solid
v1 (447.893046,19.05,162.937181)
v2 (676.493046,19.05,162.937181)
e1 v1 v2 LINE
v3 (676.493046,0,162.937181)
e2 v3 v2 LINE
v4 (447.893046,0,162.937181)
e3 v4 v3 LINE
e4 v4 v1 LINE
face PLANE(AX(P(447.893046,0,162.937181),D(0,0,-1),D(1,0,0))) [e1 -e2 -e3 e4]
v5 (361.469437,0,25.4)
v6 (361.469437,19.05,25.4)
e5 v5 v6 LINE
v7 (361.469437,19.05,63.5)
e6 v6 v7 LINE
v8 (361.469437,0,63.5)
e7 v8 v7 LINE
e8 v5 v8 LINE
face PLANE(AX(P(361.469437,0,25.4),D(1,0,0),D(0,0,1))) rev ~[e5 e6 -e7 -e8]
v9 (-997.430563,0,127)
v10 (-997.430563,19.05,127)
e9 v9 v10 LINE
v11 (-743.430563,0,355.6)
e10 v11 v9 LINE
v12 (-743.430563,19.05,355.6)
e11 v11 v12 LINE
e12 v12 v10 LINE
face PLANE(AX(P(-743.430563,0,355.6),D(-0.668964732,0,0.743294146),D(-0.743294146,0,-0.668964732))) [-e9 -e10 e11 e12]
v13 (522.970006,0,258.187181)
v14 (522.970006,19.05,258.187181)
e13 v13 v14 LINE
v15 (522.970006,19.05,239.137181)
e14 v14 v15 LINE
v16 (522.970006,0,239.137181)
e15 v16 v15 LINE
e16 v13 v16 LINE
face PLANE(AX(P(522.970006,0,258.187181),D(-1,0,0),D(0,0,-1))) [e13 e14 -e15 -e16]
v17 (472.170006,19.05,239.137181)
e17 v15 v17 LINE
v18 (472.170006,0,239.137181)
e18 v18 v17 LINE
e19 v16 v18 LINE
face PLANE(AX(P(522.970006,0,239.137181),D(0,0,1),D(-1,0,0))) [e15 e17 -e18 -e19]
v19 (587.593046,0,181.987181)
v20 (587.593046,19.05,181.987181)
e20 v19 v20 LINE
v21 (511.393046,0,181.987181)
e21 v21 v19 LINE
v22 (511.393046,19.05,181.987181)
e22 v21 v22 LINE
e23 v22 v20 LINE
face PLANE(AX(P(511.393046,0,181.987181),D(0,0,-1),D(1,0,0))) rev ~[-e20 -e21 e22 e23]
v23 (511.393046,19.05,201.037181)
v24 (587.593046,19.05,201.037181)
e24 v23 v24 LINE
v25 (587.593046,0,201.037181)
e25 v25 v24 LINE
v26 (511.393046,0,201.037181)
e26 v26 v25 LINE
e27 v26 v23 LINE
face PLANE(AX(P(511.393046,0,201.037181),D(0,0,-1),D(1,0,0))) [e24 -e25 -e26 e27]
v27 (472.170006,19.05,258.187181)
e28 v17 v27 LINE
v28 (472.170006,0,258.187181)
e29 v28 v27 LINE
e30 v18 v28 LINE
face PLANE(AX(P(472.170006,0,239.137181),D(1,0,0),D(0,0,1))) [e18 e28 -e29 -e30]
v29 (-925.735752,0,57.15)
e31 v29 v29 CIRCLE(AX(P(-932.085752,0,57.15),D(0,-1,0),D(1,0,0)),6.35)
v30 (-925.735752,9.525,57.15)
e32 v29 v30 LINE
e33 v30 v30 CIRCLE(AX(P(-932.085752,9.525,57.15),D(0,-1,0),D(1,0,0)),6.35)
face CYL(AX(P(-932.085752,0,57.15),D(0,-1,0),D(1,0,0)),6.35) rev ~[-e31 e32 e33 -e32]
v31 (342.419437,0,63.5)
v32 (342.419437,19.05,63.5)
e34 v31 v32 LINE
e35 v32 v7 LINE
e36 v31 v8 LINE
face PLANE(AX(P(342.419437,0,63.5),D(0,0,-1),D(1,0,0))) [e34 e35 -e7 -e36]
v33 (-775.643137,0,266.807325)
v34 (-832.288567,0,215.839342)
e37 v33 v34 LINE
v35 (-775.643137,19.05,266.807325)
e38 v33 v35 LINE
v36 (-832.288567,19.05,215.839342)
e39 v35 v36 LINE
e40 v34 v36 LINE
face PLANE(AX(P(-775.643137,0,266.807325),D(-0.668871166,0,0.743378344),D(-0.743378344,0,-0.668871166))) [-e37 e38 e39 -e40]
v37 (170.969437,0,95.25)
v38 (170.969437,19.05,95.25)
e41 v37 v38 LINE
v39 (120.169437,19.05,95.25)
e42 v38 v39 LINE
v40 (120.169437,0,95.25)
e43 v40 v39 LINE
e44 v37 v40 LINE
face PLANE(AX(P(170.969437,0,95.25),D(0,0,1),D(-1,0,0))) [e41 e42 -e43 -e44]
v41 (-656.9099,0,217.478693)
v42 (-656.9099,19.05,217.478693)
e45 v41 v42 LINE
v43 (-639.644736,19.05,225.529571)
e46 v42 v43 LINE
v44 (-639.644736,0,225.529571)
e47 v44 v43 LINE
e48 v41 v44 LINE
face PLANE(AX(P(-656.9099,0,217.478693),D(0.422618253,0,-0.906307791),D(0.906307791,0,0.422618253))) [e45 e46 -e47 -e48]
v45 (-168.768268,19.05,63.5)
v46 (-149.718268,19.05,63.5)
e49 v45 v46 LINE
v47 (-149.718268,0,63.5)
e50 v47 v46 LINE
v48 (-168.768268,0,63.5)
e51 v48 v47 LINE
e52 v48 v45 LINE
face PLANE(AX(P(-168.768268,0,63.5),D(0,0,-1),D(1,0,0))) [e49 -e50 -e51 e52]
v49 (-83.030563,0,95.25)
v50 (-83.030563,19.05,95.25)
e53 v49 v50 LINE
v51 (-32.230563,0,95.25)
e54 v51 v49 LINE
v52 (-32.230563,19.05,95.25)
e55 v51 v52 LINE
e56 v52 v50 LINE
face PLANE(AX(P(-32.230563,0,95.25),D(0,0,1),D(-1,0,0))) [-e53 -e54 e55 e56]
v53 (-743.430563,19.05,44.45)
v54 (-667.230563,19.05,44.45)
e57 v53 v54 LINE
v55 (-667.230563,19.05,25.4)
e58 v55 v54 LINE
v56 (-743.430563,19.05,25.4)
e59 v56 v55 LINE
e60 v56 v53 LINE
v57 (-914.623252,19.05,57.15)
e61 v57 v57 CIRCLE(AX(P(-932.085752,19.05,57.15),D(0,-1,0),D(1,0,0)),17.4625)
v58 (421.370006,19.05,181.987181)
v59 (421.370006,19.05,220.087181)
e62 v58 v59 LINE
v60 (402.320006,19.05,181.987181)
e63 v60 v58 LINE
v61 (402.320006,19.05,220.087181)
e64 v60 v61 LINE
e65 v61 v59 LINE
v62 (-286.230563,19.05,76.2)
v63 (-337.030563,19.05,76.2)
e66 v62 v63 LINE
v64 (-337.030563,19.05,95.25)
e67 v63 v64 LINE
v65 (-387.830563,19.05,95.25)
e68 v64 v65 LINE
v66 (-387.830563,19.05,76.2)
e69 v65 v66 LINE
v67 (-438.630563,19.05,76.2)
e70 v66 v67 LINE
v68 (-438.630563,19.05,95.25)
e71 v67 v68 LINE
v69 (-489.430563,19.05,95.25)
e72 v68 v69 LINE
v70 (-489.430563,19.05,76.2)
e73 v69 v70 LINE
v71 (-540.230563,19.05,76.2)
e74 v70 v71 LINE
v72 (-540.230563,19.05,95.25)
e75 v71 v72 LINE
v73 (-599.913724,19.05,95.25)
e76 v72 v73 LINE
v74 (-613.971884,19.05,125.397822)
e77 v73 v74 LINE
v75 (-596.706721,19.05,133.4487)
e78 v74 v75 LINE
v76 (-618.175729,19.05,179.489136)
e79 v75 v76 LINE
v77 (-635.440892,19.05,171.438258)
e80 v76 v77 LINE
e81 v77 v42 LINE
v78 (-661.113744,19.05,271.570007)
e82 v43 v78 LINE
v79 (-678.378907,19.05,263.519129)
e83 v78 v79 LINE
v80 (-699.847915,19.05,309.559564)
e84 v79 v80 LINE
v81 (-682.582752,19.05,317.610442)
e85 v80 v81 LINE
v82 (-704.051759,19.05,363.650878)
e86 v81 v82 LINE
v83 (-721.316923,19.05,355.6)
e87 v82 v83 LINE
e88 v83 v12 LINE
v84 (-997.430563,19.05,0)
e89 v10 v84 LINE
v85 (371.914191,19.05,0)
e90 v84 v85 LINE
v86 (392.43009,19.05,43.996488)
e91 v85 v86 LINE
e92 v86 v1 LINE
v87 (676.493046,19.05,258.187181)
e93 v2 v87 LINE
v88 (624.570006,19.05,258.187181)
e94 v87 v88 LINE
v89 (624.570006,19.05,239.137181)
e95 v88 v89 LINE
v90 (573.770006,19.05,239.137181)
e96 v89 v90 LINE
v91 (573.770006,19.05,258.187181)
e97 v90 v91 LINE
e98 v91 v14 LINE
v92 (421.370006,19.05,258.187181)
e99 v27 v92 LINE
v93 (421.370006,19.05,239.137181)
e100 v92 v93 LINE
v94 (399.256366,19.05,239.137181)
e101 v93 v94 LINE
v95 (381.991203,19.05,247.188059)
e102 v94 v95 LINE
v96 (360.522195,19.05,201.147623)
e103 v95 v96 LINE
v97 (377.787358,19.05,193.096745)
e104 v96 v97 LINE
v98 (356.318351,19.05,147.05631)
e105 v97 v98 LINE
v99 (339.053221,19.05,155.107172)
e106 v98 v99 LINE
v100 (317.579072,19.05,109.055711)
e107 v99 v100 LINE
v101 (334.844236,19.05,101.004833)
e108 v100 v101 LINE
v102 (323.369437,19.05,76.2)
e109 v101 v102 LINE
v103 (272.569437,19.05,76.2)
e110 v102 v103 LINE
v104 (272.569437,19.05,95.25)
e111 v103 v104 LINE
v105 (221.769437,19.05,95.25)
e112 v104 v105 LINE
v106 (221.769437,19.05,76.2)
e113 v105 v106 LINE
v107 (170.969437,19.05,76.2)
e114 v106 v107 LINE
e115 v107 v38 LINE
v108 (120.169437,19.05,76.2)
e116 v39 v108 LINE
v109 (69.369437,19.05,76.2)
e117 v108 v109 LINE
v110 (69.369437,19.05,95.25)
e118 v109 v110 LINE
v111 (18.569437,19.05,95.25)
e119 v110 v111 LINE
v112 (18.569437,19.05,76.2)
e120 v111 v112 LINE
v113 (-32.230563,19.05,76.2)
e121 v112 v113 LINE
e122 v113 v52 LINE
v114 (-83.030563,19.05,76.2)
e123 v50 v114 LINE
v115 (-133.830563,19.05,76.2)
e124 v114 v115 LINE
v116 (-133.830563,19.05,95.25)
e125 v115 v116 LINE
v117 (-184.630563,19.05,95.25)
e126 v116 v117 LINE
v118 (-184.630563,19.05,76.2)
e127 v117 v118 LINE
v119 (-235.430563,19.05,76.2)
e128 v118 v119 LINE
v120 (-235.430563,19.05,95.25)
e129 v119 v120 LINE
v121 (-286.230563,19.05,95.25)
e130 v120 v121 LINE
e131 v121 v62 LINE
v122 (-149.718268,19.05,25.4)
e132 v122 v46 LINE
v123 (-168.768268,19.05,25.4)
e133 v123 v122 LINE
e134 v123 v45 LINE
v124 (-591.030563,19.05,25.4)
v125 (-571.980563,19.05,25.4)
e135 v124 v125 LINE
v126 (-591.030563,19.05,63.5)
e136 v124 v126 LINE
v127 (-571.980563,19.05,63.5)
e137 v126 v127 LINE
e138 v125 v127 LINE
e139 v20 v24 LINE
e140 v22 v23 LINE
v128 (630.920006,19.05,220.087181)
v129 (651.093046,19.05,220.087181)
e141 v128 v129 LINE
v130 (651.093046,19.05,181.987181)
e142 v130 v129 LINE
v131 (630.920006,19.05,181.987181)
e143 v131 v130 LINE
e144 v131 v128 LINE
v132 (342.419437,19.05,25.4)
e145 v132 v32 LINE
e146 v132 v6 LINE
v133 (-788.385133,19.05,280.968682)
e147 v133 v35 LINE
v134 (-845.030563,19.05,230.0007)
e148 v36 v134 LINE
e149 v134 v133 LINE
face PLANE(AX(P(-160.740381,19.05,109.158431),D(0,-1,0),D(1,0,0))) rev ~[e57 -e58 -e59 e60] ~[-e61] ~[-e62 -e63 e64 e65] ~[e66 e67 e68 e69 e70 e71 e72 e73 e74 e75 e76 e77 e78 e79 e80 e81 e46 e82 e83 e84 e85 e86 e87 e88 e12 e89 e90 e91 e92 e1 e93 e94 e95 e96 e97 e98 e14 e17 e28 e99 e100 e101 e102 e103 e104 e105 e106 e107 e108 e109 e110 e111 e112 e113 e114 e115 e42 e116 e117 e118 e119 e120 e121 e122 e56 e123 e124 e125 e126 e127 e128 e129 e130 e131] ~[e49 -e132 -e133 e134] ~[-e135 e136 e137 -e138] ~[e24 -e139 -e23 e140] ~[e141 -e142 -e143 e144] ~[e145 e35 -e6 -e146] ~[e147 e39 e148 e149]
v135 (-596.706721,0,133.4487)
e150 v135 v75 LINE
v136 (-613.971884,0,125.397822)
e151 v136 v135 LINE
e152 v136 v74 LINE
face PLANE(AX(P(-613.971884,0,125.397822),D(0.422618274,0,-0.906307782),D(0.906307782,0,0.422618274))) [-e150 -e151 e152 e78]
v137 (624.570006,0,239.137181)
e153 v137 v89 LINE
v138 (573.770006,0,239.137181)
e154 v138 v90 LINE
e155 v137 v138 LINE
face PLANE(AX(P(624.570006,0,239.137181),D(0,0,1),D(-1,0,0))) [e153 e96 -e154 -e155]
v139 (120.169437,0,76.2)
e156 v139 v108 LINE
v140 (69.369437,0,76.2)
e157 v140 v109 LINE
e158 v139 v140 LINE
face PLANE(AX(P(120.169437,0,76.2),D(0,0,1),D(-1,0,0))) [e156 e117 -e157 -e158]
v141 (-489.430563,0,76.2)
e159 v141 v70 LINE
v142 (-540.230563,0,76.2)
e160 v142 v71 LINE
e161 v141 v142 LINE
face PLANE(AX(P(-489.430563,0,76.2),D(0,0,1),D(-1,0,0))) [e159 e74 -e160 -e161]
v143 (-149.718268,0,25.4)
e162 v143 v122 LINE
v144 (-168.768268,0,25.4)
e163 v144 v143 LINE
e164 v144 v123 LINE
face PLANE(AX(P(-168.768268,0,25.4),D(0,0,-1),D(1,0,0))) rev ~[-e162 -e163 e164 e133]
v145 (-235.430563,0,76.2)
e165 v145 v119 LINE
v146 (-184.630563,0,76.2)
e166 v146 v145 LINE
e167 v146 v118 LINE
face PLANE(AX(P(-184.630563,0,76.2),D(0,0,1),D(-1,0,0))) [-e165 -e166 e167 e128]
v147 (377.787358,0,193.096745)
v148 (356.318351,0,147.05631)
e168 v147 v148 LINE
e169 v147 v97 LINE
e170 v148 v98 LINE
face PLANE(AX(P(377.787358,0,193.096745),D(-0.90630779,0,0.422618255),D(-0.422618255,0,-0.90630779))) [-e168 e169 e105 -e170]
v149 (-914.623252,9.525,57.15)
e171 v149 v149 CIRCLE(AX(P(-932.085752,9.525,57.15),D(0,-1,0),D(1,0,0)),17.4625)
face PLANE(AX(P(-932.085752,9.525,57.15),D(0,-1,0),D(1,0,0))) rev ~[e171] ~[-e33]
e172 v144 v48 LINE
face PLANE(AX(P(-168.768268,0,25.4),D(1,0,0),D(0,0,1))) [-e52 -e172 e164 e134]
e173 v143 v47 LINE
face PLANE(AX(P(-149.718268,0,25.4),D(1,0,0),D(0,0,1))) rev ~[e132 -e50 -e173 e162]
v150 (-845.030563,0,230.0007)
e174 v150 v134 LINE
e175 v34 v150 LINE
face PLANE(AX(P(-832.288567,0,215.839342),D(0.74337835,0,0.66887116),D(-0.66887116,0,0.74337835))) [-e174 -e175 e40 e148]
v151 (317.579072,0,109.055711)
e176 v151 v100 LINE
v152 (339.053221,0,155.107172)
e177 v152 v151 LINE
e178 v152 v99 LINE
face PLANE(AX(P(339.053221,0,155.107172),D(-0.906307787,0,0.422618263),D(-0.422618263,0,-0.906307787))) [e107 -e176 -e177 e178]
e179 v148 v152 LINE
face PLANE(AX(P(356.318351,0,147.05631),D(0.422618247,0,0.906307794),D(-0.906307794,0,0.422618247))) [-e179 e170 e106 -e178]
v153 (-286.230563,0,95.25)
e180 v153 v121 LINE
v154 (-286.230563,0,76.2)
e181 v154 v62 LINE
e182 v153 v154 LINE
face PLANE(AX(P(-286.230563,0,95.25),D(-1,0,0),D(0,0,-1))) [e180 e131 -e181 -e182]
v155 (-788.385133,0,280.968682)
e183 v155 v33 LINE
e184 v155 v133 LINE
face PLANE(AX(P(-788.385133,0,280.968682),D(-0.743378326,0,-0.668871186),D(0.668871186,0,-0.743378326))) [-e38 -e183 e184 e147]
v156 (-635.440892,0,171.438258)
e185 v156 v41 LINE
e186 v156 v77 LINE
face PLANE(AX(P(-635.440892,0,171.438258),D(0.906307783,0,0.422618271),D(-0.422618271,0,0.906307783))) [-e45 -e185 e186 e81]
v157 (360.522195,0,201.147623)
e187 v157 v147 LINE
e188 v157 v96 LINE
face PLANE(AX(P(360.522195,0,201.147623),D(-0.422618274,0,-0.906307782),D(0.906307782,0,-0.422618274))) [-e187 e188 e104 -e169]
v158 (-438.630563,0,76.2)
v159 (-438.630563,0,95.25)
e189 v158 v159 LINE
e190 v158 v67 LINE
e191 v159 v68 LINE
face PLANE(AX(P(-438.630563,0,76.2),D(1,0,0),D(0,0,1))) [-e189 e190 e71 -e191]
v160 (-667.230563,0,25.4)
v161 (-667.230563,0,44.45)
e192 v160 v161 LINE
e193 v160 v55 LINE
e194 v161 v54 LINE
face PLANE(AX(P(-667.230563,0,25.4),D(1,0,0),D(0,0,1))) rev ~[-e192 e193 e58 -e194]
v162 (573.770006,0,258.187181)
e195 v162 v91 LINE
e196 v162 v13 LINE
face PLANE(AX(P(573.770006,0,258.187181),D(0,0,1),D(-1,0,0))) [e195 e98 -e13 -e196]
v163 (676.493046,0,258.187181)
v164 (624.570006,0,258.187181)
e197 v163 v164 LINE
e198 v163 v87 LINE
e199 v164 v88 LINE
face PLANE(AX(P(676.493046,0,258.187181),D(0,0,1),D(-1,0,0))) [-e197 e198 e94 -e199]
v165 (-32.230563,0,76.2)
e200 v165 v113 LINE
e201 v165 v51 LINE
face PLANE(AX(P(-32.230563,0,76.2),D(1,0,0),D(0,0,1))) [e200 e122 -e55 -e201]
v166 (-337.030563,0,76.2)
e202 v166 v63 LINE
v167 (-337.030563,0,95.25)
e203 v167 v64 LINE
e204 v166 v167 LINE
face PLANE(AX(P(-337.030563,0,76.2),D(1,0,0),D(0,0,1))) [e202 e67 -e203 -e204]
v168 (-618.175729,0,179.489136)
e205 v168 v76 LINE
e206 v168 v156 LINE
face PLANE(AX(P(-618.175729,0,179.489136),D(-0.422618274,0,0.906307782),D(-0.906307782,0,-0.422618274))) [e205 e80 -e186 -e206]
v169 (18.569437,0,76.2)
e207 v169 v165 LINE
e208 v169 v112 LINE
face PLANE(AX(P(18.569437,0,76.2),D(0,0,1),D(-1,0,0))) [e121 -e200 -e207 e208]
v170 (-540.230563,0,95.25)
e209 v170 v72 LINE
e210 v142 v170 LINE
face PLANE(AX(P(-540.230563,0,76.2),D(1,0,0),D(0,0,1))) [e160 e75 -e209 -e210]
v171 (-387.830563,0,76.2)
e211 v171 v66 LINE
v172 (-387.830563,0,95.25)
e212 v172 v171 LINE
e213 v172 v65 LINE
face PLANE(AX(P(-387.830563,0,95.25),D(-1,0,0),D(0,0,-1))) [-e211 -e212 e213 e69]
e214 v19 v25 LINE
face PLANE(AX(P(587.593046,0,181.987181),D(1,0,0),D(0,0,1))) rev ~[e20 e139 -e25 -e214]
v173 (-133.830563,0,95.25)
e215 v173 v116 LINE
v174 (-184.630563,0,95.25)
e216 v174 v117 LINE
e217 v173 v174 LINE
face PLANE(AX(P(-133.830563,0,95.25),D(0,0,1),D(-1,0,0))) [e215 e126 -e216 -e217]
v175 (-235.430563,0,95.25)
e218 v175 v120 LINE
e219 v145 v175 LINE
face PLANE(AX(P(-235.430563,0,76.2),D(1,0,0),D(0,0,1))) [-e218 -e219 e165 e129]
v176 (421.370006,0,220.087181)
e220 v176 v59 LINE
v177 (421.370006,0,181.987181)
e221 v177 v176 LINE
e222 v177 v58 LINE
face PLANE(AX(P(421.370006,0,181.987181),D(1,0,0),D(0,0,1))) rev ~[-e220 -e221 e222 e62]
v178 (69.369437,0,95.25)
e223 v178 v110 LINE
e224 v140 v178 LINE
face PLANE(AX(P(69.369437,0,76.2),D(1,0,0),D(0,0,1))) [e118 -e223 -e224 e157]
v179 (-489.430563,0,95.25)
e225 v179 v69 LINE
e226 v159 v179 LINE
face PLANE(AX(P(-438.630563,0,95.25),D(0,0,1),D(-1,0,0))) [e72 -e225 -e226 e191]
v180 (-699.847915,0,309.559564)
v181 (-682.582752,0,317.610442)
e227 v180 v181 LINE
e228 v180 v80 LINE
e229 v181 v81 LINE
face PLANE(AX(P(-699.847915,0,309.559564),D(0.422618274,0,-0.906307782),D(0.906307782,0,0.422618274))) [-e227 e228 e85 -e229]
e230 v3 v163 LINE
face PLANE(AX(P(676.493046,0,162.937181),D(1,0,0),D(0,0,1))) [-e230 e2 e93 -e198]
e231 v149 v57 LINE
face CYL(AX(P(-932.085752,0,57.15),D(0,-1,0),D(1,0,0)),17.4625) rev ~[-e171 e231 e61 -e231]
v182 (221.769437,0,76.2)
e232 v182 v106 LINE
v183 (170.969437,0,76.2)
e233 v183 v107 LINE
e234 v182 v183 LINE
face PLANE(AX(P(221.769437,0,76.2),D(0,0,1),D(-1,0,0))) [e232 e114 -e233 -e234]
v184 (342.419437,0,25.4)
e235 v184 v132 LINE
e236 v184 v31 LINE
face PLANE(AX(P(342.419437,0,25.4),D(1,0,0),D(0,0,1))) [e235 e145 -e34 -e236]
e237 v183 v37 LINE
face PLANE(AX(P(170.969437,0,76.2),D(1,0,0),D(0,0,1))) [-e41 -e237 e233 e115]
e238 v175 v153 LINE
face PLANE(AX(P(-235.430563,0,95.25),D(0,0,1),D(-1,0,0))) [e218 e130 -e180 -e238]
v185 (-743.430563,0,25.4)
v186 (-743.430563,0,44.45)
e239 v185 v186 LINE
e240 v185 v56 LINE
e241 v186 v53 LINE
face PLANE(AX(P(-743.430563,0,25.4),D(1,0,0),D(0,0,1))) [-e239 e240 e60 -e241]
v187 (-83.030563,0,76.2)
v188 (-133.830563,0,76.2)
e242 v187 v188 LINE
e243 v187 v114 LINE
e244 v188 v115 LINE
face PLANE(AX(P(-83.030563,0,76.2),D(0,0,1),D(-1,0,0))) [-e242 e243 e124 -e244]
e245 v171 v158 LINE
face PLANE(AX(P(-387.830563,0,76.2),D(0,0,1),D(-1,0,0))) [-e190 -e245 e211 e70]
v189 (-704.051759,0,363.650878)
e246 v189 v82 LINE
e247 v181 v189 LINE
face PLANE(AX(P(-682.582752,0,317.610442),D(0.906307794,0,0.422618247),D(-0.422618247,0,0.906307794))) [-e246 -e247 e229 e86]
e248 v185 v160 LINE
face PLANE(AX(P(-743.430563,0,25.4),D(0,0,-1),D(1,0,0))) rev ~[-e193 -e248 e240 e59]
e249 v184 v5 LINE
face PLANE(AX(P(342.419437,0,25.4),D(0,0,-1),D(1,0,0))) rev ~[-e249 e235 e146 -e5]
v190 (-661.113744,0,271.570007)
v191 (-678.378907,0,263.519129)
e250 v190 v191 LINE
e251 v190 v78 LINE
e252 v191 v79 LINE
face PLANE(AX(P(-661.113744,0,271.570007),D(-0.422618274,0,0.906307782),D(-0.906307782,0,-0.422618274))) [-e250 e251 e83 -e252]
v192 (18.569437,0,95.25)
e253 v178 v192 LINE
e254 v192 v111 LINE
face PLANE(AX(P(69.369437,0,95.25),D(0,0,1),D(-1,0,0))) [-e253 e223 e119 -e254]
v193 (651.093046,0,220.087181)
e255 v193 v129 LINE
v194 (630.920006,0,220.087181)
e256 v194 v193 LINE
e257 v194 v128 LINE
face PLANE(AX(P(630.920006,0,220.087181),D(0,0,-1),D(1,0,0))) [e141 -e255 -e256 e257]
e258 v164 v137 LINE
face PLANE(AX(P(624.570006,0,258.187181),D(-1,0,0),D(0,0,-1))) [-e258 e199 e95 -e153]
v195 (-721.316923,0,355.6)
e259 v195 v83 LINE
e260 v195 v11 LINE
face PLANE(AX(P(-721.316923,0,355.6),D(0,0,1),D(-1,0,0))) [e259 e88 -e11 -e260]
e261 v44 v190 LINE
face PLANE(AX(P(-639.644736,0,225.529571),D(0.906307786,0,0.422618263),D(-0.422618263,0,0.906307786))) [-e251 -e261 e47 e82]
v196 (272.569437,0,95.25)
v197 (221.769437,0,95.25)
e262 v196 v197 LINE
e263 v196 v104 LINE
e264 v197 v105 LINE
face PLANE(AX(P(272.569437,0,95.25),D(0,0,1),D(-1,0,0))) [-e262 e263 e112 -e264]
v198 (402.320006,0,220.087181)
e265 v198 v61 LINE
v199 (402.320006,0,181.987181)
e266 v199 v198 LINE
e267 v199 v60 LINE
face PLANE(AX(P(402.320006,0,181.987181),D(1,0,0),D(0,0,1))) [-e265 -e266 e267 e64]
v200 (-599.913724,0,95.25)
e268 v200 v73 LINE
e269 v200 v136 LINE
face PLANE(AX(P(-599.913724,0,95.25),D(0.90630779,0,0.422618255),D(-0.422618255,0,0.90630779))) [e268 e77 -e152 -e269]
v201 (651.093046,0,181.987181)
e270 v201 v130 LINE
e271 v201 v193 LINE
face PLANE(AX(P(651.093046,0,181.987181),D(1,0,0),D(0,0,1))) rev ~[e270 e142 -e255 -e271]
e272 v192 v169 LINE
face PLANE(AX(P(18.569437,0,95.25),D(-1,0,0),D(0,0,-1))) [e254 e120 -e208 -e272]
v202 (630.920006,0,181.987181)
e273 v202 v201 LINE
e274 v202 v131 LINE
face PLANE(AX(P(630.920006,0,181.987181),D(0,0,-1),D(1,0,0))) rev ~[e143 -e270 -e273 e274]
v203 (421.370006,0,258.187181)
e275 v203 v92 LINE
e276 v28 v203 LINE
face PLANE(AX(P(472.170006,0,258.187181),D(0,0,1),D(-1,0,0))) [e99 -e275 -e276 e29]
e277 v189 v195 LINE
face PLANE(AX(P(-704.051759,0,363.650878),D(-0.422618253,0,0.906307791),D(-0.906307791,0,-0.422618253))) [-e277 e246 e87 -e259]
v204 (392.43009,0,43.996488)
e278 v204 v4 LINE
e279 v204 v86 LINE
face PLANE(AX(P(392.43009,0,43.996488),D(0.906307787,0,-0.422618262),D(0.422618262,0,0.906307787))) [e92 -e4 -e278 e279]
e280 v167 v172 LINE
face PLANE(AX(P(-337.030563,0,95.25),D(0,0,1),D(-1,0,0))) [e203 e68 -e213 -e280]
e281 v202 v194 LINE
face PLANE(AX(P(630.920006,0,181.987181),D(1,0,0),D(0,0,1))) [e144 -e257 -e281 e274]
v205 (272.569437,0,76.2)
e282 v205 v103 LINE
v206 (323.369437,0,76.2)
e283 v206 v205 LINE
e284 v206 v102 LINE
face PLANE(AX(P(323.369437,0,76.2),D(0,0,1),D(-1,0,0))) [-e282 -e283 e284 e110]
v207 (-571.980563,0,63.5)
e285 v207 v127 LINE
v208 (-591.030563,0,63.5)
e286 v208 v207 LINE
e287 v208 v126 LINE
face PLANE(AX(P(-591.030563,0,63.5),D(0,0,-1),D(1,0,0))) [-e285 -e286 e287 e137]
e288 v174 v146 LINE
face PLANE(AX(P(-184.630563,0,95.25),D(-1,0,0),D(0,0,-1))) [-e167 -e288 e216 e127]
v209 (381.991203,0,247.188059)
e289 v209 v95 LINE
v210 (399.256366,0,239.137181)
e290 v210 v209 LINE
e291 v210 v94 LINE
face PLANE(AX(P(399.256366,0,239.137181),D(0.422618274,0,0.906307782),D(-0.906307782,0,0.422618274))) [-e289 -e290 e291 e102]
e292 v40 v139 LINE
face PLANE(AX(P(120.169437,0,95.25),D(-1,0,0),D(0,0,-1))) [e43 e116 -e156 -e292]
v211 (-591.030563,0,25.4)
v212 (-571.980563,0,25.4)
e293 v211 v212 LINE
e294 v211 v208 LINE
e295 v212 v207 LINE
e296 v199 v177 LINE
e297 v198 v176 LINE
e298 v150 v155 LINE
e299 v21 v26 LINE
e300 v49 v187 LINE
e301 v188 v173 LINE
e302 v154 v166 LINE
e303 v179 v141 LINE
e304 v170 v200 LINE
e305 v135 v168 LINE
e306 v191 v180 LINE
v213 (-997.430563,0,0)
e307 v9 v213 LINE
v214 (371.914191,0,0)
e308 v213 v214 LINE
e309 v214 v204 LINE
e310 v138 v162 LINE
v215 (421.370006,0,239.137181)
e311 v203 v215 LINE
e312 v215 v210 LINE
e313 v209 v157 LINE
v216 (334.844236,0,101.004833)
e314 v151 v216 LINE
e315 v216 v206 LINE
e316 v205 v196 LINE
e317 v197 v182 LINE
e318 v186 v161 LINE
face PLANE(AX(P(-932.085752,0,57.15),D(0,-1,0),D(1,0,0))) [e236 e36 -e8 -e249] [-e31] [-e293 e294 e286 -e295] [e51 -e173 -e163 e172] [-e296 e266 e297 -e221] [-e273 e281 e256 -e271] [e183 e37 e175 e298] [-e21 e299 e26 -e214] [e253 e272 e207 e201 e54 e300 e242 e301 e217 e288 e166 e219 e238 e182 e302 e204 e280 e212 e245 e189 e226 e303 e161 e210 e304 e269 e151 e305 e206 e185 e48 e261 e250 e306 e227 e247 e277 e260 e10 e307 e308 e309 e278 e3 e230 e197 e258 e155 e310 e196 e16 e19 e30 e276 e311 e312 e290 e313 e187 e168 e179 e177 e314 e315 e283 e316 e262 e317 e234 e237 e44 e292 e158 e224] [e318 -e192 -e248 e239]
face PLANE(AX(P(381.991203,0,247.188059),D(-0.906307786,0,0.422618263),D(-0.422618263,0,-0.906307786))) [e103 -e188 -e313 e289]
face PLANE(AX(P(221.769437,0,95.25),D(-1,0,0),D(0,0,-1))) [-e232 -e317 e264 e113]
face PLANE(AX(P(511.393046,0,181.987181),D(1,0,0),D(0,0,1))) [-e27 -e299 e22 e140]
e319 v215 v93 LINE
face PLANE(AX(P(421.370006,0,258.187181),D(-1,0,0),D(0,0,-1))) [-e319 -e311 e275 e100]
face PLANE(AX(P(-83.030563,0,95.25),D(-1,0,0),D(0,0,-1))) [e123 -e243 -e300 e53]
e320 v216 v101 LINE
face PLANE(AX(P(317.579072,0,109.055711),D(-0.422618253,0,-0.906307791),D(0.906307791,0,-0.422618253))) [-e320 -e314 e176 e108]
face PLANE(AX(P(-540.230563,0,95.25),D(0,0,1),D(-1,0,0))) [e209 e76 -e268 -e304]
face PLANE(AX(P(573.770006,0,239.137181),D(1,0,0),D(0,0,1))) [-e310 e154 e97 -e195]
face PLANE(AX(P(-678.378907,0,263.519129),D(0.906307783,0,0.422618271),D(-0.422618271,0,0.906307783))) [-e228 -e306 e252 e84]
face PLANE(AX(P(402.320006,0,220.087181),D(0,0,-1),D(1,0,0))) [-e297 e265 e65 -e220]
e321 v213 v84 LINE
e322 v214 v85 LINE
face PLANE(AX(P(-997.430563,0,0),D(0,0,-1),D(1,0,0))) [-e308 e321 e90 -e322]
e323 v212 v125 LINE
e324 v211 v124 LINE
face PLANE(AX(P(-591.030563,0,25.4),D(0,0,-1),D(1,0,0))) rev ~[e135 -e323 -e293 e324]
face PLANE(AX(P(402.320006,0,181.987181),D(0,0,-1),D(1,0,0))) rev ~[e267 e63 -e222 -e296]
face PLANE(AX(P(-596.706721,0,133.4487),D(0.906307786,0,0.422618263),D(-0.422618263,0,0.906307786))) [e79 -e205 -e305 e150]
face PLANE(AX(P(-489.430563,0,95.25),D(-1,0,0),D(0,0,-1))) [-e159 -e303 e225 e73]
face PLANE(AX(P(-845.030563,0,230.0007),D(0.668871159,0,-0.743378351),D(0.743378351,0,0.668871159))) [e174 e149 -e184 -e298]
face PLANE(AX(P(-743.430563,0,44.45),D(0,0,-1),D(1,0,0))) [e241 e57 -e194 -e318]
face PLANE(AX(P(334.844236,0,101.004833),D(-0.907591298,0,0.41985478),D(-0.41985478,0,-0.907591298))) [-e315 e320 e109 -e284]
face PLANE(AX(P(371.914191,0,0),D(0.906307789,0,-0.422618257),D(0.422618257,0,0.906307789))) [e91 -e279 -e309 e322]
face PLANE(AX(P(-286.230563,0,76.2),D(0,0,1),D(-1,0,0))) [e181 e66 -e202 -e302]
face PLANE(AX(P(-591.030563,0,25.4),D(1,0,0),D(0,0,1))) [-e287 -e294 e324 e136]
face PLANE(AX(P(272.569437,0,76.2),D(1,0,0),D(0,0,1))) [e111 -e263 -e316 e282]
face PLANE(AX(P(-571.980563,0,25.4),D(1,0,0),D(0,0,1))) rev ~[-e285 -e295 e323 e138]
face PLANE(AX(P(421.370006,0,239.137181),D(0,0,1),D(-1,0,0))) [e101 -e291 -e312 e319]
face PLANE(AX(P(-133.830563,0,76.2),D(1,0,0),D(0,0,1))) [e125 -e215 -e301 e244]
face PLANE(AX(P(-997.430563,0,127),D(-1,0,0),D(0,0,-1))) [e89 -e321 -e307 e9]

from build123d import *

# Parameters (mm, degrees)
F0_W     = 76.2
F0_H     = 19.05
F0_W_2   = 19.05
F0_H_2   = 38.1
F0_R     = 17.4625
F0_W_3   = 20.17304
F1_DEPTH = 19.05
F0_R_2   = 6.35
F2_DEPTH = 9.525


with BuildPart() as f1:
    # F0 (on Front) → F1 (new body)
    with BuildSketch(Plane.XZ):
        Polygon((-489.430563, 76.2), (-540.230563, 76.2), (-540.230563, 95.25), (-591.030563, 95.25), (-599.913724, 95.25), (-613.971884, 125.397822), (-596.706721, 133.4487), (-618.175729, 179.489136), (-635.440892, 171.438258), (-656.9099, 217.478693), (-639.644736, 225.529571), (-661.113744, 271.570007), (-678.378907, 263.519129), (-699.847915, 309.559564), (-682.582752, 317.610442), (-704.051759, 363.650878), (-721.316923, 355.6), (-743.430563, 355.6), (-997.430563, 127), (-997.430563, 0), (-591.030563, 0), (342.419437, 0), (371.914191, 0), (392.43009, 43.996488), (447.893046, 162.937181), (502.200551, 162.937181), (676.493046, 162.937181), (676.493046, 239.137181), (676.493046, 258.187181), (624.570006, 258.187181), (624.570006, 239.137181), (573.770006, 239.137181), (573.770006, 258.187181), (522.970006, 258.187181), (522.970006, 239.137181), (472.170006, 239.137181), (472.170006, 258.187181), (421.370006, 258.187181), (421.370006, 239.137181), (399.256366, 239.137181), (381.991203, 247.188059), (360.522195, 201.147623), (377.787358, 193.096745), (356.318351, 147.05631), (339.053221, 155.107172), (317.579072, 109.055711), (334.844236, 101.004833), (323.369437, 76.2), (272.569437, 76.2), (272.569437, 95.25), (221.769437, 95.25), (221.769437, 76.2), (170.969437, 76.2), (170.969437, 95.25), (120.169437, 95.25), (120.169437, 76.2), (69.369437, 76.2), (69.369437, 95.25), (18.569437, 95.25), (18.569437, 76.2), (-32.230563, 76.2), (-32.230563, 95.25), (-83.030563, 95.25), (-83.030563, 76.2), (-133.830563, 76.2), (-133.830563, 95.25), (-184.630563, 95.25), (-184.630563, 76.2), (-235.430563, 76.2), (-235.430563, 95.25), (-286.230563, 95.25), (-286.230563, 76.2), (-337.030563, 76.2), (-337.030563, 95.25), (-387.830563, 95.25), (-387.830563, 76.2), (-438.630563, 76.2), (-438.630563, 95.25), (-489.430563, 95.25), align=None)
        with Locations((-705.330563, 34.925)):
            Rectangle(F0_W, F0_H, mode=Mode.SUBTRACT)
        with Locations((-581.505563, 44.45)):
            Rectangle(F0_W_2, F0_H_2, mode=Mode.SUBTRACT)
        with Locations((-932.085752, 57.15)):
            Circle(F0_R, mode=Mode.SUBTRACT)
        with Locations((-159.243268, 44.45)):
            Rectangle(F0_W_2, F0_H_2, mode=Mode.SUBTRACT)
        with Locations((351.944437, 44.45)):
            Rectangle(F0_W_2, F0_H_2, mode=Mode.SUBTRACT)
        Polygon((-832.288567, 215.839342), (-845.030563, 230.0007), (-788.385133, 280.968682), (-775.643137, 266.807325), align=None, mode=Mode.SUBTRACT)
        with Locations((411.845006, 201.037181)):
            Rectangle(F0_W_2, F0_H_2, mode=Mode.SUBTRACT)
        with Locations((549.493046, 191.512181)):
            Rectangle(F0_W, F0_H, mode=Mode.SUBTRACT)
        with Locations((641.006526, 201.037181)):
            Rectangle(F0_W_3, F0_H_2, mode=Mode.SUBTRACT)
    extrude(amount=-F1_DEPTH)

    # F0 (on Front) → F2 (join)
    with BuildSketch(Plane.XZ):
        with Locations((-932.085752, 57.15)):
            Circle(F0_R)
        with Locations((-932.085752, 57.15)):
            Circle(F0_R_2, mode=Mode.SUBTRACT)
    extrude(amount=-F2_DEPTH)


solid = f1.part
